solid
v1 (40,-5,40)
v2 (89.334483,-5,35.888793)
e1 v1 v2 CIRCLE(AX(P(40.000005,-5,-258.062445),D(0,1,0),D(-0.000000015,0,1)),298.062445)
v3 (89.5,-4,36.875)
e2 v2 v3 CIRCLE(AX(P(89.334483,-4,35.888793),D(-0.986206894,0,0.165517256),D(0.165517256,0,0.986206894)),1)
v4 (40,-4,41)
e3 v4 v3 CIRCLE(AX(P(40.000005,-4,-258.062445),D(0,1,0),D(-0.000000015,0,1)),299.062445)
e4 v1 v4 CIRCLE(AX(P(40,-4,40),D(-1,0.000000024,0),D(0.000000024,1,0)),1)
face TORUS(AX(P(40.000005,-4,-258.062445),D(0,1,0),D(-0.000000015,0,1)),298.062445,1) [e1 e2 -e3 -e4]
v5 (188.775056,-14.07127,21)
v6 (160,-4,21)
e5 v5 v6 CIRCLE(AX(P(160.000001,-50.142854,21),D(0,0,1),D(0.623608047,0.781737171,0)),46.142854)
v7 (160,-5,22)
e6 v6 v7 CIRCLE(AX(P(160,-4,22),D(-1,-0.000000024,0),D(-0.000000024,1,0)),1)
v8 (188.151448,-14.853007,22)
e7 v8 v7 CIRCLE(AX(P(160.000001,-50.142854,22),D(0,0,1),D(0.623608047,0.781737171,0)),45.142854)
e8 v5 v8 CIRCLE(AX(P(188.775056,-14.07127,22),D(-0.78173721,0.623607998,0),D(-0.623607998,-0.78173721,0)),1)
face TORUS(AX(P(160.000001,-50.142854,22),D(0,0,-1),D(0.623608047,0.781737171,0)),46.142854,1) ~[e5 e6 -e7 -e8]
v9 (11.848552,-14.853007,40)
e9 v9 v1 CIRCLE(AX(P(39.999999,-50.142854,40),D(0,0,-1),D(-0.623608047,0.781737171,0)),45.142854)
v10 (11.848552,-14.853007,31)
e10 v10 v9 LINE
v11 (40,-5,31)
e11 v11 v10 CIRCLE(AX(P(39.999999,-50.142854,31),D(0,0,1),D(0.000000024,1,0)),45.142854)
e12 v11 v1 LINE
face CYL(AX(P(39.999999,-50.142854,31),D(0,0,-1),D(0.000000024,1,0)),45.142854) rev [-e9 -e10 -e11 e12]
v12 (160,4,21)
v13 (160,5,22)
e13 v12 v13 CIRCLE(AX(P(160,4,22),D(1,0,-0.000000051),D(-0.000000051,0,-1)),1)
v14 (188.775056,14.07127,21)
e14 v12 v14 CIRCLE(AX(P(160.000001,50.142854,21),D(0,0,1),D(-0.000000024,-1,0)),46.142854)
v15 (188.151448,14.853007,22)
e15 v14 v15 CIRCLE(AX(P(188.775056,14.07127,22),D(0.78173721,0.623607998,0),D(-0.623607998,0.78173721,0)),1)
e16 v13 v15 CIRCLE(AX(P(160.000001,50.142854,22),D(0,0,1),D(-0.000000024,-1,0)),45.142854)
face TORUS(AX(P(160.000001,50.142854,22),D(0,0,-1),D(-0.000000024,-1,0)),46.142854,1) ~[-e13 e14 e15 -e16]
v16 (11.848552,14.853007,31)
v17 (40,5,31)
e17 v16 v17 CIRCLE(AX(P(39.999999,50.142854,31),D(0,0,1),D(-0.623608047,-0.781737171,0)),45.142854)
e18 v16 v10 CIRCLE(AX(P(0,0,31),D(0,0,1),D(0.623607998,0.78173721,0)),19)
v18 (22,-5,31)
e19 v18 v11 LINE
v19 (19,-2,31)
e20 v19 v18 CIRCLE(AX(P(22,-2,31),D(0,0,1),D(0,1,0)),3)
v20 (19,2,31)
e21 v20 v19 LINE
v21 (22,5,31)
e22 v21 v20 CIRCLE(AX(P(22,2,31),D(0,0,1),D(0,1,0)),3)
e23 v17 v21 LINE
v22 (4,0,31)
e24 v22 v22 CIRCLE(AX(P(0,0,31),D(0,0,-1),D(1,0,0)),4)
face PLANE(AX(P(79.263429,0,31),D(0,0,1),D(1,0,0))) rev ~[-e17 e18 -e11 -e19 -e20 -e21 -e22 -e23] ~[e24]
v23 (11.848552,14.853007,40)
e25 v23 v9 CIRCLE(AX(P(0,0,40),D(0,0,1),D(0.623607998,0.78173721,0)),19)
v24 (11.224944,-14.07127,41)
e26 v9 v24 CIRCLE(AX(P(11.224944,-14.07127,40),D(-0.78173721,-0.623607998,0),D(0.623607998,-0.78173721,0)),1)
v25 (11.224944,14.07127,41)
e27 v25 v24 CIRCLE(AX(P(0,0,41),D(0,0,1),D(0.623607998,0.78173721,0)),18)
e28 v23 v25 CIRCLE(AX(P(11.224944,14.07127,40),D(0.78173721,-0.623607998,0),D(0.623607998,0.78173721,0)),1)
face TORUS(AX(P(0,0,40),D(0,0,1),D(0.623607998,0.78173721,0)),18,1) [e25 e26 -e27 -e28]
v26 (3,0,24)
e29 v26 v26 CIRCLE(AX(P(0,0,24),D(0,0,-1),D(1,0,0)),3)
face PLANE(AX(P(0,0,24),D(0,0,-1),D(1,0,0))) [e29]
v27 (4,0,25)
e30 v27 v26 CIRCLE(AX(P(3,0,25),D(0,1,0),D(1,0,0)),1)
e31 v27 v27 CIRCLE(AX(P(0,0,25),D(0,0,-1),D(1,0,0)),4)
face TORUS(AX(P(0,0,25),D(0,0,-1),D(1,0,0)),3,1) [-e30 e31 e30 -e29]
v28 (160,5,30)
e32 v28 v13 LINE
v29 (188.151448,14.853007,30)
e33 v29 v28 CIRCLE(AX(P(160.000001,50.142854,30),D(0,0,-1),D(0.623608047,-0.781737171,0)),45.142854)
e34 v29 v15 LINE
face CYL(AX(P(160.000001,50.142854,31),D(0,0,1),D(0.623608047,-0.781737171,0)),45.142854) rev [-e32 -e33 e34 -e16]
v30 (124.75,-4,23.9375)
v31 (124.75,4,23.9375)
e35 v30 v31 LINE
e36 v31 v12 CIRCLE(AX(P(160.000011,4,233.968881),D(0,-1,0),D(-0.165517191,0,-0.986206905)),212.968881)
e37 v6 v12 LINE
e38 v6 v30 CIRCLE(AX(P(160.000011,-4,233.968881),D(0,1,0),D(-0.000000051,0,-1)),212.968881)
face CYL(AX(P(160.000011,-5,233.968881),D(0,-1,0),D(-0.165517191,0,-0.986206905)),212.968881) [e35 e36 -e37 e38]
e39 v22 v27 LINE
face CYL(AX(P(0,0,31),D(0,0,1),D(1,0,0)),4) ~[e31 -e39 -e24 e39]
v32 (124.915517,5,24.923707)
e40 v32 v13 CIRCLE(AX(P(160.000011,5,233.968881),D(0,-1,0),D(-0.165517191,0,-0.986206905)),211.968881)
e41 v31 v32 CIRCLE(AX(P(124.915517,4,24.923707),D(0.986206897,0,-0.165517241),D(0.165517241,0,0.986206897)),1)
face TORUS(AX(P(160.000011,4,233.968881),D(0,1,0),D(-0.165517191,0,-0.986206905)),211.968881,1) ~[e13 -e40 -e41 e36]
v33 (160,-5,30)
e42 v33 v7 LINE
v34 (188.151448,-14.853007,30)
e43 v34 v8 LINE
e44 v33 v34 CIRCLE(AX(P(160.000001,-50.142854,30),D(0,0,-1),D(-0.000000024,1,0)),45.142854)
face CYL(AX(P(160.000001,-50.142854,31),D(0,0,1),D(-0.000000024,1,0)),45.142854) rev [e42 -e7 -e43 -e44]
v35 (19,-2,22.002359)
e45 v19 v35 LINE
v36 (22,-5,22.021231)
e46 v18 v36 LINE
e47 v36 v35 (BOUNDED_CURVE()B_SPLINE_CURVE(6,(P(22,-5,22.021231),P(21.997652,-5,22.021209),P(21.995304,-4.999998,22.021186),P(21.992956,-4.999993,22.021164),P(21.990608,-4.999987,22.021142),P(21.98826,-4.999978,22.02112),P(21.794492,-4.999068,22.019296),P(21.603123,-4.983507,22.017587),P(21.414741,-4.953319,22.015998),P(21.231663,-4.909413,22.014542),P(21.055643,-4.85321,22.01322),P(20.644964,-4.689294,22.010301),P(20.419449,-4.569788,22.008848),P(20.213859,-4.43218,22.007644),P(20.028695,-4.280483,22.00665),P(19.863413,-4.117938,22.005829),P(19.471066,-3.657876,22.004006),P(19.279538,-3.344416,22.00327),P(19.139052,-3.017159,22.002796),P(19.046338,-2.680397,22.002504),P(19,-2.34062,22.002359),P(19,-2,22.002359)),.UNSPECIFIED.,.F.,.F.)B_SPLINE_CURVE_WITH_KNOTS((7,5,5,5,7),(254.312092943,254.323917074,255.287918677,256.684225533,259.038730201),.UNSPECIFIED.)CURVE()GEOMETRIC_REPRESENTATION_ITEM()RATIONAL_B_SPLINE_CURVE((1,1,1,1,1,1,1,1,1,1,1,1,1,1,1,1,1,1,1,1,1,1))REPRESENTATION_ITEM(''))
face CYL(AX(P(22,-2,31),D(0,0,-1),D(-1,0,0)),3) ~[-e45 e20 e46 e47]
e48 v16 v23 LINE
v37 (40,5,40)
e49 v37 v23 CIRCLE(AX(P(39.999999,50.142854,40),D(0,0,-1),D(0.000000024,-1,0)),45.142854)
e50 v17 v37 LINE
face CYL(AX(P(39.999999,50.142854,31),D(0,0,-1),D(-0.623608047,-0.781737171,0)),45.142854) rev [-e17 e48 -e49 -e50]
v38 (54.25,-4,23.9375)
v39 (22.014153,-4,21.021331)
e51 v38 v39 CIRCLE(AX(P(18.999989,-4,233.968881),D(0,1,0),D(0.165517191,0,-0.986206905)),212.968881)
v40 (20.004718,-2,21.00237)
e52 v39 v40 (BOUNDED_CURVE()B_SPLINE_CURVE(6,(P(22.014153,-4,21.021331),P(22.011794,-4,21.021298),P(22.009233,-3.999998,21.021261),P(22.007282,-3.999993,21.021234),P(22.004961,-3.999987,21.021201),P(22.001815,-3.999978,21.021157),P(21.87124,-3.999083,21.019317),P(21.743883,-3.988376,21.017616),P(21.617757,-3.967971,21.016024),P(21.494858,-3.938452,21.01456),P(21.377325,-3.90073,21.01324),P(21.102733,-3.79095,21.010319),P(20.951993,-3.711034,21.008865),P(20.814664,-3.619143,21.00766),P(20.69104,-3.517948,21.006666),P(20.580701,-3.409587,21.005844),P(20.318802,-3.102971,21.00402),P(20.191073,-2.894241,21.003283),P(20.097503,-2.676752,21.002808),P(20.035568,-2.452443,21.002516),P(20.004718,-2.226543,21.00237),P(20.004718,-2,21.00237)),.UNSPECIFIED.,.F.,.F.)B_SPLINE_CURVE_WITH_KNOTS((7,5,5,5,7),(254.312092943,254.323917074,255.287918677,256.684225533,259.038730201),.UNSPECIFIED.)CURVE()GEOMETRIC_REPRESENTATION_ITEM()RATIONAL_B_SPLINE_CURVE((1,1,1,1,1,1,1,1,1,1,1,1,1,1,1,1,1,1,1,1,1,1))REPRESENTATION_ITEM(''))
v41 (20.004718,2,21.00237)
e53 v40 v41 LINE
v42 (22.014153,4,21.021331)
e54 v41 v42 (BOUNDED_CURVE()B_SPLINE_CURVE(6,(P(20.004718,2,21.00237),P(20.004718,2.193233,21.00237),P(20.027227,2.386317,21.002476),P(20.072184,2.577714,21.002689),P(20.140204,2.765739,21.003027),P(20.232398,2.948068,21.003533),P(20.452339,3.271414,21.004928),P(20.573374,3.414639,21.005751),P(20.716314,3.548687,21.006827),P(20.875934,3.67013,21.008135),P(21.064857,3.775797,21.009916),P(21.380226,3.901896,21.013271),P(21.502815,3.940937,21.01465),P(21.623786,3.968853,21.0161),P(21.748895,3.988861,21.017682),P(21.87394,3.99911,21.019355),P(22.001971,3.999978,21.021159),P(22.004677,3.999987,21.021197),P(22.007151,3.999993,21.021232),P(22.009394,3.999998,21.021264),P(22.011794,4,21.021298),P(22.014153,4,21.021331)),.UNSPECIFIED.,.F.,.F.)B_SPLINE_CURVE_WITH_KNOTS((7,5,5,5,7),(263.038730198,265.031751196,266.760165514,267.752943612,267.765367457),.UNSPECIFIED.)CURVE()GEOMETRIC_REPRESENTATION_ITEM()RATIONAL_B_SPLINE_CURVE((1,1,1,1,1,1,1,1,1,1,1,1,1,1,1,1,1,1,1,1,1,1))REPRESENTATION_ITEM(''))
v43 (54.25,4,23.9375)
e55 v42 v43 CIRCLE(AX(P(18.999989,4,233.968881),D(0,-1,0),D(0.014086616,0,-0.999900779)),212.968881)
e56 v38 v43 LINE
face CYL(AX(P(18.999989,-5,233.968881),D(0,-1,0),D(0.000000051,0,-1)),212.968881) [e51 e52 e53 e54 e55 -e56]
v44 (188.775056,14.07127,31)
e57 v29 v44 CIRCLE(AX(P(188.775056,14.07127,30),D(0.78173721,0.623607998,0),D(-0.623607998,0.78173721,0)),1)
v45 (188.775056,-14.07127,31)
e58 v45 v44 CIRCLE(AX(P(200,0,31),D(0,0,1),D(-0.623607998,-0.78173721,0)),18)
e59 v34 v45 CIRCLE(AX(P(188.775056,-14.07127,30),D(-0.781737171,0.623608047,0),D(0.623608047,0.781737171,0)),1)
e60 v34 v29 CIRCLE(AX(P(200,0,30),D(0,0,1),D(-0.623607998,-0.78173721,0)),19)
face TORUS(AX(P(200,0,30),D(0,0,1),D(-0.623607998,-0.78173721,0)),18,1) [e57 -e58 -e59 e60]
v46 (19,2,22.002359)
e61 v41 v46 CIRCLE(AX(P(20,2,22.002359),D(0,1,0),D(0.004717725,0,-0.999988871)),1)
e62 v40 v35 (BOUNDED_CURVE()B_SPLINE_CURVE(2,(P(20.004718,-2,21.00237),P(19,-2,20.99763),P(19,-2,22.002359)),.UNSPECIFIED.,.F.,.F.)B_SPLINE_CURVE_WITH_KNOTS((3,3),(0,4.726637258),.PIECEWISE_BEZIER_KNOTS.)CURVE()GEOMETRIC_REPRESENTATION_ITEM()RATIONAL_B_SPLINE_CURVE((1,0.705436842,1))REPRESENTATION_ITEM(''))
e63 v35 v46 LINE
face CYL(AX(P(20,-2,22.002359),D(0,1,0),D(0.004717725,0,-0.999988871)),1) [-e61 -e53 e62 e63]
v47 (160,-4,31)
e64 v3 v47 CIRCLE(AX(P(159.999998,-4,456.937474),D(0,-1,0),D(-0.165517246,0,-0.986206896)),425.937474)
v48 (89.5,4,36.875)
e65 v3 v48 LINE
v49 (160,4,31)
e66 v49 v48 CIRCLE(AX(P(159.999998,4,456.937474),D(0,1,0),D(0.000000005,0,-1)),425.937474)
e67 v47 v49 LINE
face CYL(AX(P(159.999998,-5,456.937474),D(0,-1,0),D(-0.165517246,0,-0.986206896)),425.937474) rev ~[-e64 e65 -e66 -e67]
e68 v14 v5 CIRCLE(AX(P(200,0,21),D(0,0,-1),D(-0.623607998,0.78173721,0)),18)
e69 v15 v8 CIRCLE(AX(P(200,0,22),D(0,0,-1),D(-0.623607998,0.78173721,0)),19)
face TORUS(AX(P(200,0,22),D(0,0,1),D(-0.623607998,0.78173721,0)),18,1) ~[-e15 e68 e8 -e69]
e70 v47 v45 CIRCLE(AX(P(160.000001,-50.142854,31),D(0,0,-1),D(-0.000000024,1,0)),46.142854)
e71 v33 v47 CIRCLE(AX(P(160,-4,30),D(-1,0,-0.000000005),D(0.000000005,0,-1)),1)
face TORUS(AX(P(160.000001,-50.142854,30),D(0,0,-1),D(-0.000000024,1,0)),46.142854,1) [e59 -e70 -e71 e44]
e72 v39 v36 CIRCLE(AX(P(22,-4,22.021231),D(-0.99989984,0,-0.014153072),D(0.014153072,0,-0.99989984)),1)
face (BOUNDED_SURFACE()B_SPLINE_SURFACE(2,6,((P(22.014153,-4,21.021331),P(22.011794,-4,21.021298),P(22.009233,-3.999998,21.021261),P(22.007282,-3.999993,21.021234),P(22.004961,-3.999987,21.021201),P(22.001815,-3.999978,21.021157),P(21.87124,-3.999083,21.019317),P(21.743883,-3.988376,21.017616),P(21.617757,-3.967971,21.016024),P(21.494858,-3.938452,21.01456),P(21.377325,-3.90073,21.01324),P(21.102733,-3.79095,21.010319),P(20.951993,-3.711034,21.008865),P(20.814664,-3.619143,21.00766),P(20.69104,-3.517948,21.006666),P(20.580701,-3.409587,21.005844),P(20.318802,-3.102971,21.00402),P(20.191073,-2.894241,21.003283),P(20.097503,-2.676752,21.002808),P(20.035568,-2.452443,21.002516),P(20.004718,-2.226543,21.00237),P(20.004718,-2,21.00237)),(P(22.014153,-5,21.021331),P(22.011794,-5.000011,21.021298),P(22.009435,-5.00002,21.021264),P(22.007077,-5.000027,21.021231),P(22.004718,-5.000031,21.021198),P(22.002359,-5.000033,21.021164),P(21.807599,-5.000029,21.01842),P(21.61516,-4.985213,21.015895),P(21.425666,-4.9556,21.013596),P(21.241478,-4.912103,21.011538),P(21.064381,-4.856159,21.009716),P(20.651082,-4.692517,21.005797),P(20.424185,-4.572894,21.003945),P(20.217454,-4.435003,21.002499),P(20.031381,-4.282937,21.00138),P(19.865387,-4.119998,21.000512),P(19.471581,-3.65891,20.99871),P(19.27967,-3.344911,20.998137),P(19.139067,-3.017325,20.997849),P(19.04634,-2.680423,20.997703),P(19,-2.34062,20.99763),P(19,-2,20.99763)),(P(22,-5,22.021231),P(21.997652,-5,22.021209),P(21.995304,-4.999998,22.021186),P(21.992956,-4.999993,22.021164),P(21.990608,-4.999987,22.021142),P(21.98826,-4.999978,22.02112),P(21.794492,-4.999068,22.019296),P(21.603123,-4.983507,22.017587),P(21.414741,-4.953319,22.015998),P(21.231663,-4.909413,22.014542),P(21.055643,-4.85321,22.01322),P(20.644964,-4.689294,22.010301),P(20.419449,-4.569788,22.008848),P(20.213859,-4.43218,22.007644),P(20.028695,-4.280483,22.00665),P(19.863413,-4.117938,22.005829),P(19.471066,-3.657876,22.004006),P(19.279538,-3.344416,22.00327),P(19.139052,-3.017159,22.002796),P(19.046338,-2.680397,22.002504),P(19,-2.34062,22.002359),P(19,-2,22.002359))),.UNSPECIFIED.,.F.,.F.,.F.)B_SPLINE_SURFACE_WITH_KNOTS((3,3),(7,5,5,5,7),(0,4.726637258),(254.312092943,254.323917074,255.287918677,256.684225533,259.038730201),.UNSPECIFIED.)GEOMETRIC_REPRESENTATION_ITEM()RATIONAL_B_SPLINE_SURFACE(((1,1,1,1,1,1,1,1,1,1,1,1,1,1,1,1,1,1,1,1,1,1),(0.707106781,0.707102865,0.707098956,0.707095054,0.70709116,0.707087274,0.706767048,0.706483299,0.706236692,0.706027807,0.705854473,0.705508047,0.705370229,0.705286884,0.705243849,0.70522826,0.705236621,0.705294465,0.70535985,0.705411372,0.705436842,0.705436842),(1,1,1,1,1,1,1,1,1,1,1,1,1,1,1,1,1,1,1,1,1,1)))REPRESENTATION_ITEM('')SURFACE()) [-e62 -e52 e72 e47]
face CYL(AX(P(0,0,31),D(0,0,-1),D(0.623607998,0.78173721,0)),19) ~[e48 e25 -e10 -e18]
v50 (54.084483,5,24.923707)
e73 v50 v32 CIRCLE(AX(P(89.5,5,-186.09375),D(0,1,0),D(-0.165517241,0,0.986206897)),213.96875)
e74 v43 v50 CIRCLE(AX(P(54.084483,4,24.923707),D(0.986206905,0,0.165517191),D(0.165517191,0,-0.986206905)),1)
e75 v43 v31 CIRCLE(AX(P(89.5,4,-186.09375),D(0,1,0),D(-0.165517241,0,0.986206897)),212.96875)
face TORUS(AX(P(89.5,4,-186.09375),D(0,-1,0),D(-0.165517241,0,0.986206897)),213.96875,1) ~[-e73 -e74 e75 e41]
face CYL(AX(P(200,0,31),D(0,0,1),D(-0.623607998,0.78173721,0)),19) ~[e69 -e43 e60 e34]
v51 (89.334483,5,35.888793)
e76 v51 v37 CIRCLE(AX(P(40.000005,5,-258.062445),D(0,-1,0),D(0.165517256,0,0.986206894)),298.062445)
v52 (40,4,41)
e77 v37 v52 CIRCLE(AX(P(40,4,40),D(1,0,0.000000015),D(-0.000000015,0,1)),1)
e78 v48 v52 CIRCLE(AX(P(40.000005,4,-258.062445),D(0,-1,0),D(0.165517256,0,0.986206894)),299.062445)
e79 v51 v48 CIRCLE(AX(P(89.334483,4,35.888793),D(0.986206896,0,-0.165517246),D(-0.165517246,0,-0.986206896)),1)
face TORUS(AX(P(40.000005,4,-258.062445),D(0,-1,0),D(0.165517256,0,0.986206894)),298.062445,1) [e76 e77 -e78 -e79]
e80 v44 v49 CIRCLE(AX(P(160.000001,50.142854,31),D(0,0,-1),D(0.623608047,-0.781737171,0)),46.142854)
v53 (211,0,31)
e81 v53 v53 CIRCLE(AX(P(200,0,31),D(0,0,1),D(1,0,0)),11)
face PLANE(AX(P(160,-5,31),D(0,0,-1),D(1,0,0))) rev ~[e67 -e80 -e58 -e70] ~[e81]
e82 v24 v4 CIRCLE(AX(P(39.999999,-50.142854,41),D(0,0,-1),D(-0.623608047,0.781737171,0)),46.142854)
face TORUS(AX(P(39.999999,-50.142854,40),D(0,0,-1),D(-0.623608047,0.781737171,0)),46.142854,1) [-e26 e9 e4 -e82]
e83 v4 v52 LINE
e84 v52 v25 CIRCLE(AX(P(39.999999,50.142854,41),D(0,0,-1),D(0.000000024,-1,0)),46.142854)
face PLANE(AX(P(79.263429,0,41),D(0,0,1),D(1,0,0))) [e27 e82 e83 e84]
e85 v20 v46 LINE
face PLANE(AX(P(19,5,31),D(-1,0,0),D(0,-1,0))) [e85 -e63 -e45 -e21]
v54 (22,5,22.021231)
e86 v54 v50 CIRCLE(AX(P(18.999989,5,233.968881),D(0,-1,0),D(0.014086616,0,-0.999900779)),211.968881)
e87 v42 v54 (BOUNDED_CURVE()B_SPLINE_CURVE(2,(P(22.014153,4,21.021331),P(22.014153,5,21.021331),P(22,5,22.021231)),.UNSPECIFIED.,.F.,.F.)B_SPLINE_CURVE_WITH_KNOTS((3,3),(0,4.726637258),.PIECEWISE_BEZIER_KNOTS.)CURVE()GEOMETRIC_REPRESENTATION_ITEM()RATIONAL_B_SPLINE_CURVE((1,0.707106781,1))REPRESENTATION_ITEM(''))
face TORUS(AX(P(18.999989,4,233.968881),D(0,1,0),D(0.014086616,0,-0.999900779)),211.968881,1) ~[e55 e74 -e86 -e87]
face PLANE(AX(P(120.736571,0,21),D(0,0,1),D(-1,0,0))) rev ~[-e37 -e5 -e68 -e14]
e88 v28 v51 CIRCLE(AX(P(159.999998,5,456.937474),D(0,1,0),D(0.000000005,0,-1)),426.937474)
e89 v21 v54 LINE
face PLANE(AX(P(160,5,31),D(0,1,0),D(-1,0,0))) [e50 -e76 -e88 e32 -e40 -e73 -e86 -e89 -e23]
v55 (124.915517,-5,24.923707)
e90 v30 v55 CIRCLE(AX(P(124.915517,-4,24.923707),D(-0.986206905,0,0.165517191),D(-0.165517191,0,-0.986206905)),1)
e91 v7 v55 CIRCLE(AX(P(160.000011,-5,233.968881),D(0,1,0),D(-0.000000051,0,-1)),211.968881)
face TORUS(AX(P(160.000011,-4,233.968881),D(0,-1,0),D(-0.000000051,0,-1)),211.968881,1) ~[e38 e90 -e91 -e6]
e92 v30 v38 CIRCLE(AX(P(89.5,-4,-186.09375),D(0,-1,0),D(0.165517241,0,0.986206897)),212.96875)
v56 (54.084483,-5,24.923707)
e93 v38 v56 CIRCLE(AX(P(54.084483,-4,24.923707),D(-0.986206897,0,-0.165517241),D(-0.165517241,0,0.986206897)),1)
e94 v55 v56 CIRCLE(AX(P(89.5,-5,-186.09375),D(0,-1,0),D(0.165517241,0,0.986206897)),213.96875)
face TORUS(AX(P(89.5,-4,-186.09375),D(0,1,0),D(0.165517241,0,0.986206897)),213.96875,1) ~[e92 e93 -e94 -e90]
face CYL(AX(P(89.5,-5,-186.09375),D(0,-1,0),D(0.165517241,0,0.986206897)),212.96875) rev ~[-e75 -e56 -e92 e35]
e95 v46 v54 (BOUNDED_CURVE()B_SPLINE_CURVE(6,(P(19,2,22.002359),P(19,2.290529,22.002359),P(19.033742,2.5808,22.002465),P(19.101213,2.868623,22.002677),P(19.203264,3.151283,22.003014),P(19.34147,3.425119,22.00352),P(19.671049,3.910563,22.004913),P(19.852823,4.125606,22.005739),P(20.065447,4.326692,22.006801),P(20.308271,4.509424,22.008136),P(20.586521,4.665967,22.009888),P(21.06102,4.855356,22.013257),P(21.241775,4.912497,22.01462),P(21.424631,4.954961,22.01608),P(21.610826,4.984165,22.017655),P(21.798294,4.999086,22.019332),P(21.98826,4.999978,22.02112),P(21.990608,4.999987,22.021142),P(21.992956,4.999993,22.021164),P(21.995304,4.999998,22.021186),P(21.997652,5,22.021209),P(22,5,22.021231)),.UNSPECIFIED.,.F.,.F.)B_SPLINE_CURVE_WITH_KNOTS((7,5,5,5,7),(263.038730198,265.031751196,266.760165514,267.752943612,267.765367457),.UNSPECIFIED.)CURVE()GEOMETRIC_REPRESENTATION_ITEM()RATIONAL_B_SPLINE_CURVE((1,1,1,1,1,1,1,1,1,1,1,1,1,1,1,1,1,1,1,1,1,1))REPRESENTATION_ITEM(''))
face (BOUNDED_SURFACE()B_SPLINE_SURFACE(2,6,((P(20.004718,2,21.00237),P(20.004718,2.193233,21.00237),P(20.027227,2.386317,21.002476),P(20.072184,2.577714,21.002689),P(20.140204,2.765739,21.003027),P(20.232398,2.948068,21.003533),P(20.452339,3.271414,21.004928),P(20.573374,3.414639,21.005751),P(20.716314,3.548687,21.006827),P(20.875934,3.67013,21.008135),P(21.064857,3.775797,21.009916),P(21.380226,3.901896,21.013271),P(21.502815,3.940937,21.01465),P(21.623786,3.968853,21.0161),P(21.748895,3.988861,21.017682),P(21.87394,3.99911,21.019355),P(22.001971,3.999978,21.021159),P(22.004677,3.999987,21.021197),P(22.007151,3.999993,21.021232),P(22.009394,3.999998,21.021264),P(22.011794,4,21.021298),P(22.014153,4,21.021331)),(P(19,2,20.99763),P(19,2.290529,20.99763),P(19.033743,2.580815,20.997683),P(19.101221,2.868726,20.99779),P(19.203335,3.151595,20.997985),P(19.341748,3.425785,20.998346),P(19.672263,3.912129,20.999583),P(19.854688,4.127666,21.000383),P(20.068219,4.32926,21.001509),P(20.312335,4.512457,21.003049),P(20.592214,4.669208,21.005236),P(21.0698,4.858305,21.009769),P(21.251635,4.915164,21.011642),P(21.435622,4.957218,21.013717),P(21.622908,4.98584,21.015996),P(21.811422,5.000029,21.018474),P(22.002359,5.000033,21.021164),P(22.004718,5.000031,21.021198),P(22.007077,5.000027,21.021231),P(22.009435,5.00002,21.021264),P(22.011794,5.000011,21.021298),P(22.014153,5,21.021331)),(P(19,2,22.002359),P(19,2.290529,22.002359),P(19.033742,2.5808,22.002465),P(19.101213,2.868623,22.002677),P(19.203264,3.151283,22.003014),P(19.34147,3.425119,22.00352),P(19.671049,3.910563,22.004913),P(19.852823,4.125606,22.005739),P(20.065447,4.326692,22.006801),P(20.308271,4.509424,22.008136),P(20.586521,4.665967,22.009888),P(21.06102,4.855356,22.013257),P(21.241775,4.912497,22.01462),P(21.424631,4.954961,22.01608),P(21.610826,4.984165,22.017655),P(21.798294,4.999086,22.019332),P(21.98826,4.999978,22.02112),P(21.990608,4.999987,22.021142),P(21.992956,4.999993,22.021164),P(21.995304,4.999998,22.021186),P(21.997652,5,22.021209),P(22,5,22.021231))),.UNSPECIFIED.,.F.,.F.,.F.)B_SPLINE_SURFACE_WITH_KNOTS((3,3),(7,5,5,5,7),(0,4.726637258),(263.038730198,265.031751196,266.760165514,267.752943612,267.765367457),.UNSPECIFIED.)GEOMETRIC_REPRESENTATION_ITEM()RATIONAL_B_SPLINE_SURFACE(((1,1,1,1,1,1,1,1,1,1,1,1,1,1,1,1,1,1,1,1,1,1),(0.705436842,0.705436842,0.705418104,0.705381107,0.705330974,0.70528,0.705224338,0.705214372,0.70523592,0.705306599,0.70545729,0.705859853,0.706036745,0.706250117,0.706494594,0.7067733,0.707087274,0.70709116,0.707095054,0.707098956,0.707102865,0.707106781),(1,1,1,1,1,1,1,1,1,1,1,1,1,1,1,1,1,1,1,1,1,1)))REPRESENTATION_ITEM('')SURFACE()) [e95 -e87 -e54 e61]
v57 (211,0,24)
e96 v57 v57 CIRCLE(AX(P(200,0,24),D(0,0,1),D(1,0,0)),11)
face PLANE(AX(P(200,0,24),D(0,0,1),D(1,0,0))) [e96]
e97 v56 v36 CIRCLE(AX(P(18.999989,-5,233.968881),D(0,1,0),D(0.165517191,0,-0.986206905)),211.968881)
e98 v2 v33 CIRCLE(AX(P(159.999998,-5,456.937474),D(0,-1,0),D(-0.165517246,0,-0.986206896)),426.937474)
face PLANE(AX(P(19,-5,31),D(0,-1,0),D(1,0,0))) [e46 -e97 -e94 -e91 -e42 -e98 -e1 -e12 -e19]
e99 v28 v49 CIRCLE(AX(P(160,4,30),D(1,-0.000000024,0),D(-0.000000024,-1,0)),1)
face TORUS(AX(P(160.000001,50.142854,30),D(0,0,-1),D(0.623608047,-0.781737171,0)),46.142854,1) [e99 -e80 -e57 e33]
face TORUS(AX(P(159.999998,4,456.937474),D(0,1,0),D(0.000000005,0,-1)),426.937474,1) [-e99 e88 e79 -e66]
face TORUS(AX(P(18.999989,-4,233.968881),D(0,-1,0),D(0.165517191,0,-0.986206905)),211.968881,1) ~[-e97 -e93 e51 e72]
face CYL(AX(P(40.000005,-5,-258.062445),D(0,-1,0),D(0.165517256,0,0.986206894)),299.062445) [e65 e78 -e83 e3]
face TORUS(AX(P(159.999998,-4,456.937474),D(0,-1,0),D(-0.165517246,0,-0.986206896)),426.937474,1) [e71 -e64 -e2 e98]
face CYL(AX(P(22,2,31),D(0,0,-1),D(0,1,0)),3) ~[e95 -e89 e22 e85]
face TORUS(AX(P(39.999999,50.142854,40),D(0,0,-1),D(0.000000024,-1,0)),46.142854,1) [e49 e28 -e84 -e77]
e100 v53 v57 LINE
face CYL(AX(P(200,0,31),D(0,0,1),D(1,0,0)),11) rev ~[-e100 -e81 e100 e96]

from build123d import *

# Parameters (mm, degrees)
PAD001_DEPTH    = 10
PAD002_DEPTH    = 10
SKETCH006_R     = 11
POCKET004_DEPTH = 7
SKETCH007_R     = 4
PAD003_DEPTH    = 7
POCKET005_DEPTH = 24.001
FILLET002_R     = 1
FILLET003_R     = 3
FILLET004_R     = 1


with BuildPart() as part:
    # Sketch004 (on Binder) → Pad001 (new body)
    with BuildSketch(Plane.XY.offset(31)):
        with BuildLine():
            ThreePointArc((11.848552, 14.853007), (-19, 0), (11.848552, -14.853007))
            ThreePointArc((40, -5), (25.087038, -7.534394), (11.848552, -14.853007))
            Line((40, -5), (181, -5))
            Line((181, 5), (181, -5))
            Line((40, 5), (181, 5))
            ThreePointArc((11.848552, 14.853007), (25.087038, 7.534394), (40, 5))
        make_face()
    extrude(amount=PAD001_DEPTH)

    # Sketch005 (on Face7 of Pad001) → Pad002 (join)
    with BuildSketch(Plane(origin=(0, 0, 31), x_dir=(1, 0, 0), z_dir=(0, 0, -1))):
        with BuildLine():
            Line((19, 5), (160, 5))
            ThreePointArc((160, 5), (174.912962, 7.534394), (188.151448, 14.853007))
            ThreePointArc((188.151448, -14.853007), (219, 0), (188.151448, 14.853007))
            ThreePointArc((188.151448, -14.853007), (174.912962, -7.534394), (160, -5))
            Line((160, -5), (19, -5))
            Line((19, -5), (19, 5))
        make_face()
    extrude(amount=PAD002_DEPTH)

    # Sketch006 (on Face7 of Pad002) → Pocket004 (cut)
    with BuildSketch(Plane.XY.offset(31)):
        with Locations((200, 0)):
            Circle(SKETCH006_R)
    extrude(amount=-POCKET004_DEPTH, mode=Mode.SUBTRACT)

    # Sketch007 (on Face4 of Pocket004) → Pad003 (join)
    with BuildSketch(Plane(origin=(0, 0, 31), x_dir=(1, 0, 0), z_dir=(0, 0, -1))):
        Circle(SKETCH007_R)
    extrude(amount=PAD003_DEPTH)

    # Sketch008 (on Face12 of Pad003) → Pocket005 (cut, through all)
    with BuildSketch(Plane.XZ.offset(5)):
        with BuildLine():
            ThreePointArc((89.5, 36.875), (64.835789, 39.966966), (40, 41))
            Line((188.151448, 41), (40, 41))
            Line((188.151448, 31), (188.151448, 41))
            Line((160, 31), (188.151448, 31))
            ThreePointArc((89.5, 36.875), (124.627816, 32.471291), (160, 31))
        make_face()
        with BuildLine():
            ThreePointArc((19, 21), (36.686092, 21.735646), (54.25, 23.9375))
            ThreePointArc((124.75, 23.9375), (89.5, 26.875), (54.25, 23.9375))
            ThreePointArc((124.75, 23.9375), (142.313908, 21.735646), (160, 21))
            Line((19, 21), (160, 21))
        make_face()
    extrude(amount=-POCKET005_DEPTH, mode=Mode.SUBTRACT)

    # Fillet002
    fillet002_edges = [part.edges().sort_by_distance(p)[0] for p in [
        (-4, 0, 24),
    ]]
    fillet(fillet002_edges, radius=FILLET002_R)

    # Fillet003
    fillet003_edges = [part.edges().sort_by_distance(p)[0] for p in [
        (19, 5, 26),
        (19, -5, 26),
    ]]
    fillet(fillet003_edges, radius=FILLET003_R)

    # Fillet004
    fillet004_edges = [part.edges().sort_by_distance(p)[0] for p in [
        (219, 0, 21),
        (-19, 0, 41),
    ]]
    fillet(fillet004_edges, radius=FILLET004_R)


solid = part.part
